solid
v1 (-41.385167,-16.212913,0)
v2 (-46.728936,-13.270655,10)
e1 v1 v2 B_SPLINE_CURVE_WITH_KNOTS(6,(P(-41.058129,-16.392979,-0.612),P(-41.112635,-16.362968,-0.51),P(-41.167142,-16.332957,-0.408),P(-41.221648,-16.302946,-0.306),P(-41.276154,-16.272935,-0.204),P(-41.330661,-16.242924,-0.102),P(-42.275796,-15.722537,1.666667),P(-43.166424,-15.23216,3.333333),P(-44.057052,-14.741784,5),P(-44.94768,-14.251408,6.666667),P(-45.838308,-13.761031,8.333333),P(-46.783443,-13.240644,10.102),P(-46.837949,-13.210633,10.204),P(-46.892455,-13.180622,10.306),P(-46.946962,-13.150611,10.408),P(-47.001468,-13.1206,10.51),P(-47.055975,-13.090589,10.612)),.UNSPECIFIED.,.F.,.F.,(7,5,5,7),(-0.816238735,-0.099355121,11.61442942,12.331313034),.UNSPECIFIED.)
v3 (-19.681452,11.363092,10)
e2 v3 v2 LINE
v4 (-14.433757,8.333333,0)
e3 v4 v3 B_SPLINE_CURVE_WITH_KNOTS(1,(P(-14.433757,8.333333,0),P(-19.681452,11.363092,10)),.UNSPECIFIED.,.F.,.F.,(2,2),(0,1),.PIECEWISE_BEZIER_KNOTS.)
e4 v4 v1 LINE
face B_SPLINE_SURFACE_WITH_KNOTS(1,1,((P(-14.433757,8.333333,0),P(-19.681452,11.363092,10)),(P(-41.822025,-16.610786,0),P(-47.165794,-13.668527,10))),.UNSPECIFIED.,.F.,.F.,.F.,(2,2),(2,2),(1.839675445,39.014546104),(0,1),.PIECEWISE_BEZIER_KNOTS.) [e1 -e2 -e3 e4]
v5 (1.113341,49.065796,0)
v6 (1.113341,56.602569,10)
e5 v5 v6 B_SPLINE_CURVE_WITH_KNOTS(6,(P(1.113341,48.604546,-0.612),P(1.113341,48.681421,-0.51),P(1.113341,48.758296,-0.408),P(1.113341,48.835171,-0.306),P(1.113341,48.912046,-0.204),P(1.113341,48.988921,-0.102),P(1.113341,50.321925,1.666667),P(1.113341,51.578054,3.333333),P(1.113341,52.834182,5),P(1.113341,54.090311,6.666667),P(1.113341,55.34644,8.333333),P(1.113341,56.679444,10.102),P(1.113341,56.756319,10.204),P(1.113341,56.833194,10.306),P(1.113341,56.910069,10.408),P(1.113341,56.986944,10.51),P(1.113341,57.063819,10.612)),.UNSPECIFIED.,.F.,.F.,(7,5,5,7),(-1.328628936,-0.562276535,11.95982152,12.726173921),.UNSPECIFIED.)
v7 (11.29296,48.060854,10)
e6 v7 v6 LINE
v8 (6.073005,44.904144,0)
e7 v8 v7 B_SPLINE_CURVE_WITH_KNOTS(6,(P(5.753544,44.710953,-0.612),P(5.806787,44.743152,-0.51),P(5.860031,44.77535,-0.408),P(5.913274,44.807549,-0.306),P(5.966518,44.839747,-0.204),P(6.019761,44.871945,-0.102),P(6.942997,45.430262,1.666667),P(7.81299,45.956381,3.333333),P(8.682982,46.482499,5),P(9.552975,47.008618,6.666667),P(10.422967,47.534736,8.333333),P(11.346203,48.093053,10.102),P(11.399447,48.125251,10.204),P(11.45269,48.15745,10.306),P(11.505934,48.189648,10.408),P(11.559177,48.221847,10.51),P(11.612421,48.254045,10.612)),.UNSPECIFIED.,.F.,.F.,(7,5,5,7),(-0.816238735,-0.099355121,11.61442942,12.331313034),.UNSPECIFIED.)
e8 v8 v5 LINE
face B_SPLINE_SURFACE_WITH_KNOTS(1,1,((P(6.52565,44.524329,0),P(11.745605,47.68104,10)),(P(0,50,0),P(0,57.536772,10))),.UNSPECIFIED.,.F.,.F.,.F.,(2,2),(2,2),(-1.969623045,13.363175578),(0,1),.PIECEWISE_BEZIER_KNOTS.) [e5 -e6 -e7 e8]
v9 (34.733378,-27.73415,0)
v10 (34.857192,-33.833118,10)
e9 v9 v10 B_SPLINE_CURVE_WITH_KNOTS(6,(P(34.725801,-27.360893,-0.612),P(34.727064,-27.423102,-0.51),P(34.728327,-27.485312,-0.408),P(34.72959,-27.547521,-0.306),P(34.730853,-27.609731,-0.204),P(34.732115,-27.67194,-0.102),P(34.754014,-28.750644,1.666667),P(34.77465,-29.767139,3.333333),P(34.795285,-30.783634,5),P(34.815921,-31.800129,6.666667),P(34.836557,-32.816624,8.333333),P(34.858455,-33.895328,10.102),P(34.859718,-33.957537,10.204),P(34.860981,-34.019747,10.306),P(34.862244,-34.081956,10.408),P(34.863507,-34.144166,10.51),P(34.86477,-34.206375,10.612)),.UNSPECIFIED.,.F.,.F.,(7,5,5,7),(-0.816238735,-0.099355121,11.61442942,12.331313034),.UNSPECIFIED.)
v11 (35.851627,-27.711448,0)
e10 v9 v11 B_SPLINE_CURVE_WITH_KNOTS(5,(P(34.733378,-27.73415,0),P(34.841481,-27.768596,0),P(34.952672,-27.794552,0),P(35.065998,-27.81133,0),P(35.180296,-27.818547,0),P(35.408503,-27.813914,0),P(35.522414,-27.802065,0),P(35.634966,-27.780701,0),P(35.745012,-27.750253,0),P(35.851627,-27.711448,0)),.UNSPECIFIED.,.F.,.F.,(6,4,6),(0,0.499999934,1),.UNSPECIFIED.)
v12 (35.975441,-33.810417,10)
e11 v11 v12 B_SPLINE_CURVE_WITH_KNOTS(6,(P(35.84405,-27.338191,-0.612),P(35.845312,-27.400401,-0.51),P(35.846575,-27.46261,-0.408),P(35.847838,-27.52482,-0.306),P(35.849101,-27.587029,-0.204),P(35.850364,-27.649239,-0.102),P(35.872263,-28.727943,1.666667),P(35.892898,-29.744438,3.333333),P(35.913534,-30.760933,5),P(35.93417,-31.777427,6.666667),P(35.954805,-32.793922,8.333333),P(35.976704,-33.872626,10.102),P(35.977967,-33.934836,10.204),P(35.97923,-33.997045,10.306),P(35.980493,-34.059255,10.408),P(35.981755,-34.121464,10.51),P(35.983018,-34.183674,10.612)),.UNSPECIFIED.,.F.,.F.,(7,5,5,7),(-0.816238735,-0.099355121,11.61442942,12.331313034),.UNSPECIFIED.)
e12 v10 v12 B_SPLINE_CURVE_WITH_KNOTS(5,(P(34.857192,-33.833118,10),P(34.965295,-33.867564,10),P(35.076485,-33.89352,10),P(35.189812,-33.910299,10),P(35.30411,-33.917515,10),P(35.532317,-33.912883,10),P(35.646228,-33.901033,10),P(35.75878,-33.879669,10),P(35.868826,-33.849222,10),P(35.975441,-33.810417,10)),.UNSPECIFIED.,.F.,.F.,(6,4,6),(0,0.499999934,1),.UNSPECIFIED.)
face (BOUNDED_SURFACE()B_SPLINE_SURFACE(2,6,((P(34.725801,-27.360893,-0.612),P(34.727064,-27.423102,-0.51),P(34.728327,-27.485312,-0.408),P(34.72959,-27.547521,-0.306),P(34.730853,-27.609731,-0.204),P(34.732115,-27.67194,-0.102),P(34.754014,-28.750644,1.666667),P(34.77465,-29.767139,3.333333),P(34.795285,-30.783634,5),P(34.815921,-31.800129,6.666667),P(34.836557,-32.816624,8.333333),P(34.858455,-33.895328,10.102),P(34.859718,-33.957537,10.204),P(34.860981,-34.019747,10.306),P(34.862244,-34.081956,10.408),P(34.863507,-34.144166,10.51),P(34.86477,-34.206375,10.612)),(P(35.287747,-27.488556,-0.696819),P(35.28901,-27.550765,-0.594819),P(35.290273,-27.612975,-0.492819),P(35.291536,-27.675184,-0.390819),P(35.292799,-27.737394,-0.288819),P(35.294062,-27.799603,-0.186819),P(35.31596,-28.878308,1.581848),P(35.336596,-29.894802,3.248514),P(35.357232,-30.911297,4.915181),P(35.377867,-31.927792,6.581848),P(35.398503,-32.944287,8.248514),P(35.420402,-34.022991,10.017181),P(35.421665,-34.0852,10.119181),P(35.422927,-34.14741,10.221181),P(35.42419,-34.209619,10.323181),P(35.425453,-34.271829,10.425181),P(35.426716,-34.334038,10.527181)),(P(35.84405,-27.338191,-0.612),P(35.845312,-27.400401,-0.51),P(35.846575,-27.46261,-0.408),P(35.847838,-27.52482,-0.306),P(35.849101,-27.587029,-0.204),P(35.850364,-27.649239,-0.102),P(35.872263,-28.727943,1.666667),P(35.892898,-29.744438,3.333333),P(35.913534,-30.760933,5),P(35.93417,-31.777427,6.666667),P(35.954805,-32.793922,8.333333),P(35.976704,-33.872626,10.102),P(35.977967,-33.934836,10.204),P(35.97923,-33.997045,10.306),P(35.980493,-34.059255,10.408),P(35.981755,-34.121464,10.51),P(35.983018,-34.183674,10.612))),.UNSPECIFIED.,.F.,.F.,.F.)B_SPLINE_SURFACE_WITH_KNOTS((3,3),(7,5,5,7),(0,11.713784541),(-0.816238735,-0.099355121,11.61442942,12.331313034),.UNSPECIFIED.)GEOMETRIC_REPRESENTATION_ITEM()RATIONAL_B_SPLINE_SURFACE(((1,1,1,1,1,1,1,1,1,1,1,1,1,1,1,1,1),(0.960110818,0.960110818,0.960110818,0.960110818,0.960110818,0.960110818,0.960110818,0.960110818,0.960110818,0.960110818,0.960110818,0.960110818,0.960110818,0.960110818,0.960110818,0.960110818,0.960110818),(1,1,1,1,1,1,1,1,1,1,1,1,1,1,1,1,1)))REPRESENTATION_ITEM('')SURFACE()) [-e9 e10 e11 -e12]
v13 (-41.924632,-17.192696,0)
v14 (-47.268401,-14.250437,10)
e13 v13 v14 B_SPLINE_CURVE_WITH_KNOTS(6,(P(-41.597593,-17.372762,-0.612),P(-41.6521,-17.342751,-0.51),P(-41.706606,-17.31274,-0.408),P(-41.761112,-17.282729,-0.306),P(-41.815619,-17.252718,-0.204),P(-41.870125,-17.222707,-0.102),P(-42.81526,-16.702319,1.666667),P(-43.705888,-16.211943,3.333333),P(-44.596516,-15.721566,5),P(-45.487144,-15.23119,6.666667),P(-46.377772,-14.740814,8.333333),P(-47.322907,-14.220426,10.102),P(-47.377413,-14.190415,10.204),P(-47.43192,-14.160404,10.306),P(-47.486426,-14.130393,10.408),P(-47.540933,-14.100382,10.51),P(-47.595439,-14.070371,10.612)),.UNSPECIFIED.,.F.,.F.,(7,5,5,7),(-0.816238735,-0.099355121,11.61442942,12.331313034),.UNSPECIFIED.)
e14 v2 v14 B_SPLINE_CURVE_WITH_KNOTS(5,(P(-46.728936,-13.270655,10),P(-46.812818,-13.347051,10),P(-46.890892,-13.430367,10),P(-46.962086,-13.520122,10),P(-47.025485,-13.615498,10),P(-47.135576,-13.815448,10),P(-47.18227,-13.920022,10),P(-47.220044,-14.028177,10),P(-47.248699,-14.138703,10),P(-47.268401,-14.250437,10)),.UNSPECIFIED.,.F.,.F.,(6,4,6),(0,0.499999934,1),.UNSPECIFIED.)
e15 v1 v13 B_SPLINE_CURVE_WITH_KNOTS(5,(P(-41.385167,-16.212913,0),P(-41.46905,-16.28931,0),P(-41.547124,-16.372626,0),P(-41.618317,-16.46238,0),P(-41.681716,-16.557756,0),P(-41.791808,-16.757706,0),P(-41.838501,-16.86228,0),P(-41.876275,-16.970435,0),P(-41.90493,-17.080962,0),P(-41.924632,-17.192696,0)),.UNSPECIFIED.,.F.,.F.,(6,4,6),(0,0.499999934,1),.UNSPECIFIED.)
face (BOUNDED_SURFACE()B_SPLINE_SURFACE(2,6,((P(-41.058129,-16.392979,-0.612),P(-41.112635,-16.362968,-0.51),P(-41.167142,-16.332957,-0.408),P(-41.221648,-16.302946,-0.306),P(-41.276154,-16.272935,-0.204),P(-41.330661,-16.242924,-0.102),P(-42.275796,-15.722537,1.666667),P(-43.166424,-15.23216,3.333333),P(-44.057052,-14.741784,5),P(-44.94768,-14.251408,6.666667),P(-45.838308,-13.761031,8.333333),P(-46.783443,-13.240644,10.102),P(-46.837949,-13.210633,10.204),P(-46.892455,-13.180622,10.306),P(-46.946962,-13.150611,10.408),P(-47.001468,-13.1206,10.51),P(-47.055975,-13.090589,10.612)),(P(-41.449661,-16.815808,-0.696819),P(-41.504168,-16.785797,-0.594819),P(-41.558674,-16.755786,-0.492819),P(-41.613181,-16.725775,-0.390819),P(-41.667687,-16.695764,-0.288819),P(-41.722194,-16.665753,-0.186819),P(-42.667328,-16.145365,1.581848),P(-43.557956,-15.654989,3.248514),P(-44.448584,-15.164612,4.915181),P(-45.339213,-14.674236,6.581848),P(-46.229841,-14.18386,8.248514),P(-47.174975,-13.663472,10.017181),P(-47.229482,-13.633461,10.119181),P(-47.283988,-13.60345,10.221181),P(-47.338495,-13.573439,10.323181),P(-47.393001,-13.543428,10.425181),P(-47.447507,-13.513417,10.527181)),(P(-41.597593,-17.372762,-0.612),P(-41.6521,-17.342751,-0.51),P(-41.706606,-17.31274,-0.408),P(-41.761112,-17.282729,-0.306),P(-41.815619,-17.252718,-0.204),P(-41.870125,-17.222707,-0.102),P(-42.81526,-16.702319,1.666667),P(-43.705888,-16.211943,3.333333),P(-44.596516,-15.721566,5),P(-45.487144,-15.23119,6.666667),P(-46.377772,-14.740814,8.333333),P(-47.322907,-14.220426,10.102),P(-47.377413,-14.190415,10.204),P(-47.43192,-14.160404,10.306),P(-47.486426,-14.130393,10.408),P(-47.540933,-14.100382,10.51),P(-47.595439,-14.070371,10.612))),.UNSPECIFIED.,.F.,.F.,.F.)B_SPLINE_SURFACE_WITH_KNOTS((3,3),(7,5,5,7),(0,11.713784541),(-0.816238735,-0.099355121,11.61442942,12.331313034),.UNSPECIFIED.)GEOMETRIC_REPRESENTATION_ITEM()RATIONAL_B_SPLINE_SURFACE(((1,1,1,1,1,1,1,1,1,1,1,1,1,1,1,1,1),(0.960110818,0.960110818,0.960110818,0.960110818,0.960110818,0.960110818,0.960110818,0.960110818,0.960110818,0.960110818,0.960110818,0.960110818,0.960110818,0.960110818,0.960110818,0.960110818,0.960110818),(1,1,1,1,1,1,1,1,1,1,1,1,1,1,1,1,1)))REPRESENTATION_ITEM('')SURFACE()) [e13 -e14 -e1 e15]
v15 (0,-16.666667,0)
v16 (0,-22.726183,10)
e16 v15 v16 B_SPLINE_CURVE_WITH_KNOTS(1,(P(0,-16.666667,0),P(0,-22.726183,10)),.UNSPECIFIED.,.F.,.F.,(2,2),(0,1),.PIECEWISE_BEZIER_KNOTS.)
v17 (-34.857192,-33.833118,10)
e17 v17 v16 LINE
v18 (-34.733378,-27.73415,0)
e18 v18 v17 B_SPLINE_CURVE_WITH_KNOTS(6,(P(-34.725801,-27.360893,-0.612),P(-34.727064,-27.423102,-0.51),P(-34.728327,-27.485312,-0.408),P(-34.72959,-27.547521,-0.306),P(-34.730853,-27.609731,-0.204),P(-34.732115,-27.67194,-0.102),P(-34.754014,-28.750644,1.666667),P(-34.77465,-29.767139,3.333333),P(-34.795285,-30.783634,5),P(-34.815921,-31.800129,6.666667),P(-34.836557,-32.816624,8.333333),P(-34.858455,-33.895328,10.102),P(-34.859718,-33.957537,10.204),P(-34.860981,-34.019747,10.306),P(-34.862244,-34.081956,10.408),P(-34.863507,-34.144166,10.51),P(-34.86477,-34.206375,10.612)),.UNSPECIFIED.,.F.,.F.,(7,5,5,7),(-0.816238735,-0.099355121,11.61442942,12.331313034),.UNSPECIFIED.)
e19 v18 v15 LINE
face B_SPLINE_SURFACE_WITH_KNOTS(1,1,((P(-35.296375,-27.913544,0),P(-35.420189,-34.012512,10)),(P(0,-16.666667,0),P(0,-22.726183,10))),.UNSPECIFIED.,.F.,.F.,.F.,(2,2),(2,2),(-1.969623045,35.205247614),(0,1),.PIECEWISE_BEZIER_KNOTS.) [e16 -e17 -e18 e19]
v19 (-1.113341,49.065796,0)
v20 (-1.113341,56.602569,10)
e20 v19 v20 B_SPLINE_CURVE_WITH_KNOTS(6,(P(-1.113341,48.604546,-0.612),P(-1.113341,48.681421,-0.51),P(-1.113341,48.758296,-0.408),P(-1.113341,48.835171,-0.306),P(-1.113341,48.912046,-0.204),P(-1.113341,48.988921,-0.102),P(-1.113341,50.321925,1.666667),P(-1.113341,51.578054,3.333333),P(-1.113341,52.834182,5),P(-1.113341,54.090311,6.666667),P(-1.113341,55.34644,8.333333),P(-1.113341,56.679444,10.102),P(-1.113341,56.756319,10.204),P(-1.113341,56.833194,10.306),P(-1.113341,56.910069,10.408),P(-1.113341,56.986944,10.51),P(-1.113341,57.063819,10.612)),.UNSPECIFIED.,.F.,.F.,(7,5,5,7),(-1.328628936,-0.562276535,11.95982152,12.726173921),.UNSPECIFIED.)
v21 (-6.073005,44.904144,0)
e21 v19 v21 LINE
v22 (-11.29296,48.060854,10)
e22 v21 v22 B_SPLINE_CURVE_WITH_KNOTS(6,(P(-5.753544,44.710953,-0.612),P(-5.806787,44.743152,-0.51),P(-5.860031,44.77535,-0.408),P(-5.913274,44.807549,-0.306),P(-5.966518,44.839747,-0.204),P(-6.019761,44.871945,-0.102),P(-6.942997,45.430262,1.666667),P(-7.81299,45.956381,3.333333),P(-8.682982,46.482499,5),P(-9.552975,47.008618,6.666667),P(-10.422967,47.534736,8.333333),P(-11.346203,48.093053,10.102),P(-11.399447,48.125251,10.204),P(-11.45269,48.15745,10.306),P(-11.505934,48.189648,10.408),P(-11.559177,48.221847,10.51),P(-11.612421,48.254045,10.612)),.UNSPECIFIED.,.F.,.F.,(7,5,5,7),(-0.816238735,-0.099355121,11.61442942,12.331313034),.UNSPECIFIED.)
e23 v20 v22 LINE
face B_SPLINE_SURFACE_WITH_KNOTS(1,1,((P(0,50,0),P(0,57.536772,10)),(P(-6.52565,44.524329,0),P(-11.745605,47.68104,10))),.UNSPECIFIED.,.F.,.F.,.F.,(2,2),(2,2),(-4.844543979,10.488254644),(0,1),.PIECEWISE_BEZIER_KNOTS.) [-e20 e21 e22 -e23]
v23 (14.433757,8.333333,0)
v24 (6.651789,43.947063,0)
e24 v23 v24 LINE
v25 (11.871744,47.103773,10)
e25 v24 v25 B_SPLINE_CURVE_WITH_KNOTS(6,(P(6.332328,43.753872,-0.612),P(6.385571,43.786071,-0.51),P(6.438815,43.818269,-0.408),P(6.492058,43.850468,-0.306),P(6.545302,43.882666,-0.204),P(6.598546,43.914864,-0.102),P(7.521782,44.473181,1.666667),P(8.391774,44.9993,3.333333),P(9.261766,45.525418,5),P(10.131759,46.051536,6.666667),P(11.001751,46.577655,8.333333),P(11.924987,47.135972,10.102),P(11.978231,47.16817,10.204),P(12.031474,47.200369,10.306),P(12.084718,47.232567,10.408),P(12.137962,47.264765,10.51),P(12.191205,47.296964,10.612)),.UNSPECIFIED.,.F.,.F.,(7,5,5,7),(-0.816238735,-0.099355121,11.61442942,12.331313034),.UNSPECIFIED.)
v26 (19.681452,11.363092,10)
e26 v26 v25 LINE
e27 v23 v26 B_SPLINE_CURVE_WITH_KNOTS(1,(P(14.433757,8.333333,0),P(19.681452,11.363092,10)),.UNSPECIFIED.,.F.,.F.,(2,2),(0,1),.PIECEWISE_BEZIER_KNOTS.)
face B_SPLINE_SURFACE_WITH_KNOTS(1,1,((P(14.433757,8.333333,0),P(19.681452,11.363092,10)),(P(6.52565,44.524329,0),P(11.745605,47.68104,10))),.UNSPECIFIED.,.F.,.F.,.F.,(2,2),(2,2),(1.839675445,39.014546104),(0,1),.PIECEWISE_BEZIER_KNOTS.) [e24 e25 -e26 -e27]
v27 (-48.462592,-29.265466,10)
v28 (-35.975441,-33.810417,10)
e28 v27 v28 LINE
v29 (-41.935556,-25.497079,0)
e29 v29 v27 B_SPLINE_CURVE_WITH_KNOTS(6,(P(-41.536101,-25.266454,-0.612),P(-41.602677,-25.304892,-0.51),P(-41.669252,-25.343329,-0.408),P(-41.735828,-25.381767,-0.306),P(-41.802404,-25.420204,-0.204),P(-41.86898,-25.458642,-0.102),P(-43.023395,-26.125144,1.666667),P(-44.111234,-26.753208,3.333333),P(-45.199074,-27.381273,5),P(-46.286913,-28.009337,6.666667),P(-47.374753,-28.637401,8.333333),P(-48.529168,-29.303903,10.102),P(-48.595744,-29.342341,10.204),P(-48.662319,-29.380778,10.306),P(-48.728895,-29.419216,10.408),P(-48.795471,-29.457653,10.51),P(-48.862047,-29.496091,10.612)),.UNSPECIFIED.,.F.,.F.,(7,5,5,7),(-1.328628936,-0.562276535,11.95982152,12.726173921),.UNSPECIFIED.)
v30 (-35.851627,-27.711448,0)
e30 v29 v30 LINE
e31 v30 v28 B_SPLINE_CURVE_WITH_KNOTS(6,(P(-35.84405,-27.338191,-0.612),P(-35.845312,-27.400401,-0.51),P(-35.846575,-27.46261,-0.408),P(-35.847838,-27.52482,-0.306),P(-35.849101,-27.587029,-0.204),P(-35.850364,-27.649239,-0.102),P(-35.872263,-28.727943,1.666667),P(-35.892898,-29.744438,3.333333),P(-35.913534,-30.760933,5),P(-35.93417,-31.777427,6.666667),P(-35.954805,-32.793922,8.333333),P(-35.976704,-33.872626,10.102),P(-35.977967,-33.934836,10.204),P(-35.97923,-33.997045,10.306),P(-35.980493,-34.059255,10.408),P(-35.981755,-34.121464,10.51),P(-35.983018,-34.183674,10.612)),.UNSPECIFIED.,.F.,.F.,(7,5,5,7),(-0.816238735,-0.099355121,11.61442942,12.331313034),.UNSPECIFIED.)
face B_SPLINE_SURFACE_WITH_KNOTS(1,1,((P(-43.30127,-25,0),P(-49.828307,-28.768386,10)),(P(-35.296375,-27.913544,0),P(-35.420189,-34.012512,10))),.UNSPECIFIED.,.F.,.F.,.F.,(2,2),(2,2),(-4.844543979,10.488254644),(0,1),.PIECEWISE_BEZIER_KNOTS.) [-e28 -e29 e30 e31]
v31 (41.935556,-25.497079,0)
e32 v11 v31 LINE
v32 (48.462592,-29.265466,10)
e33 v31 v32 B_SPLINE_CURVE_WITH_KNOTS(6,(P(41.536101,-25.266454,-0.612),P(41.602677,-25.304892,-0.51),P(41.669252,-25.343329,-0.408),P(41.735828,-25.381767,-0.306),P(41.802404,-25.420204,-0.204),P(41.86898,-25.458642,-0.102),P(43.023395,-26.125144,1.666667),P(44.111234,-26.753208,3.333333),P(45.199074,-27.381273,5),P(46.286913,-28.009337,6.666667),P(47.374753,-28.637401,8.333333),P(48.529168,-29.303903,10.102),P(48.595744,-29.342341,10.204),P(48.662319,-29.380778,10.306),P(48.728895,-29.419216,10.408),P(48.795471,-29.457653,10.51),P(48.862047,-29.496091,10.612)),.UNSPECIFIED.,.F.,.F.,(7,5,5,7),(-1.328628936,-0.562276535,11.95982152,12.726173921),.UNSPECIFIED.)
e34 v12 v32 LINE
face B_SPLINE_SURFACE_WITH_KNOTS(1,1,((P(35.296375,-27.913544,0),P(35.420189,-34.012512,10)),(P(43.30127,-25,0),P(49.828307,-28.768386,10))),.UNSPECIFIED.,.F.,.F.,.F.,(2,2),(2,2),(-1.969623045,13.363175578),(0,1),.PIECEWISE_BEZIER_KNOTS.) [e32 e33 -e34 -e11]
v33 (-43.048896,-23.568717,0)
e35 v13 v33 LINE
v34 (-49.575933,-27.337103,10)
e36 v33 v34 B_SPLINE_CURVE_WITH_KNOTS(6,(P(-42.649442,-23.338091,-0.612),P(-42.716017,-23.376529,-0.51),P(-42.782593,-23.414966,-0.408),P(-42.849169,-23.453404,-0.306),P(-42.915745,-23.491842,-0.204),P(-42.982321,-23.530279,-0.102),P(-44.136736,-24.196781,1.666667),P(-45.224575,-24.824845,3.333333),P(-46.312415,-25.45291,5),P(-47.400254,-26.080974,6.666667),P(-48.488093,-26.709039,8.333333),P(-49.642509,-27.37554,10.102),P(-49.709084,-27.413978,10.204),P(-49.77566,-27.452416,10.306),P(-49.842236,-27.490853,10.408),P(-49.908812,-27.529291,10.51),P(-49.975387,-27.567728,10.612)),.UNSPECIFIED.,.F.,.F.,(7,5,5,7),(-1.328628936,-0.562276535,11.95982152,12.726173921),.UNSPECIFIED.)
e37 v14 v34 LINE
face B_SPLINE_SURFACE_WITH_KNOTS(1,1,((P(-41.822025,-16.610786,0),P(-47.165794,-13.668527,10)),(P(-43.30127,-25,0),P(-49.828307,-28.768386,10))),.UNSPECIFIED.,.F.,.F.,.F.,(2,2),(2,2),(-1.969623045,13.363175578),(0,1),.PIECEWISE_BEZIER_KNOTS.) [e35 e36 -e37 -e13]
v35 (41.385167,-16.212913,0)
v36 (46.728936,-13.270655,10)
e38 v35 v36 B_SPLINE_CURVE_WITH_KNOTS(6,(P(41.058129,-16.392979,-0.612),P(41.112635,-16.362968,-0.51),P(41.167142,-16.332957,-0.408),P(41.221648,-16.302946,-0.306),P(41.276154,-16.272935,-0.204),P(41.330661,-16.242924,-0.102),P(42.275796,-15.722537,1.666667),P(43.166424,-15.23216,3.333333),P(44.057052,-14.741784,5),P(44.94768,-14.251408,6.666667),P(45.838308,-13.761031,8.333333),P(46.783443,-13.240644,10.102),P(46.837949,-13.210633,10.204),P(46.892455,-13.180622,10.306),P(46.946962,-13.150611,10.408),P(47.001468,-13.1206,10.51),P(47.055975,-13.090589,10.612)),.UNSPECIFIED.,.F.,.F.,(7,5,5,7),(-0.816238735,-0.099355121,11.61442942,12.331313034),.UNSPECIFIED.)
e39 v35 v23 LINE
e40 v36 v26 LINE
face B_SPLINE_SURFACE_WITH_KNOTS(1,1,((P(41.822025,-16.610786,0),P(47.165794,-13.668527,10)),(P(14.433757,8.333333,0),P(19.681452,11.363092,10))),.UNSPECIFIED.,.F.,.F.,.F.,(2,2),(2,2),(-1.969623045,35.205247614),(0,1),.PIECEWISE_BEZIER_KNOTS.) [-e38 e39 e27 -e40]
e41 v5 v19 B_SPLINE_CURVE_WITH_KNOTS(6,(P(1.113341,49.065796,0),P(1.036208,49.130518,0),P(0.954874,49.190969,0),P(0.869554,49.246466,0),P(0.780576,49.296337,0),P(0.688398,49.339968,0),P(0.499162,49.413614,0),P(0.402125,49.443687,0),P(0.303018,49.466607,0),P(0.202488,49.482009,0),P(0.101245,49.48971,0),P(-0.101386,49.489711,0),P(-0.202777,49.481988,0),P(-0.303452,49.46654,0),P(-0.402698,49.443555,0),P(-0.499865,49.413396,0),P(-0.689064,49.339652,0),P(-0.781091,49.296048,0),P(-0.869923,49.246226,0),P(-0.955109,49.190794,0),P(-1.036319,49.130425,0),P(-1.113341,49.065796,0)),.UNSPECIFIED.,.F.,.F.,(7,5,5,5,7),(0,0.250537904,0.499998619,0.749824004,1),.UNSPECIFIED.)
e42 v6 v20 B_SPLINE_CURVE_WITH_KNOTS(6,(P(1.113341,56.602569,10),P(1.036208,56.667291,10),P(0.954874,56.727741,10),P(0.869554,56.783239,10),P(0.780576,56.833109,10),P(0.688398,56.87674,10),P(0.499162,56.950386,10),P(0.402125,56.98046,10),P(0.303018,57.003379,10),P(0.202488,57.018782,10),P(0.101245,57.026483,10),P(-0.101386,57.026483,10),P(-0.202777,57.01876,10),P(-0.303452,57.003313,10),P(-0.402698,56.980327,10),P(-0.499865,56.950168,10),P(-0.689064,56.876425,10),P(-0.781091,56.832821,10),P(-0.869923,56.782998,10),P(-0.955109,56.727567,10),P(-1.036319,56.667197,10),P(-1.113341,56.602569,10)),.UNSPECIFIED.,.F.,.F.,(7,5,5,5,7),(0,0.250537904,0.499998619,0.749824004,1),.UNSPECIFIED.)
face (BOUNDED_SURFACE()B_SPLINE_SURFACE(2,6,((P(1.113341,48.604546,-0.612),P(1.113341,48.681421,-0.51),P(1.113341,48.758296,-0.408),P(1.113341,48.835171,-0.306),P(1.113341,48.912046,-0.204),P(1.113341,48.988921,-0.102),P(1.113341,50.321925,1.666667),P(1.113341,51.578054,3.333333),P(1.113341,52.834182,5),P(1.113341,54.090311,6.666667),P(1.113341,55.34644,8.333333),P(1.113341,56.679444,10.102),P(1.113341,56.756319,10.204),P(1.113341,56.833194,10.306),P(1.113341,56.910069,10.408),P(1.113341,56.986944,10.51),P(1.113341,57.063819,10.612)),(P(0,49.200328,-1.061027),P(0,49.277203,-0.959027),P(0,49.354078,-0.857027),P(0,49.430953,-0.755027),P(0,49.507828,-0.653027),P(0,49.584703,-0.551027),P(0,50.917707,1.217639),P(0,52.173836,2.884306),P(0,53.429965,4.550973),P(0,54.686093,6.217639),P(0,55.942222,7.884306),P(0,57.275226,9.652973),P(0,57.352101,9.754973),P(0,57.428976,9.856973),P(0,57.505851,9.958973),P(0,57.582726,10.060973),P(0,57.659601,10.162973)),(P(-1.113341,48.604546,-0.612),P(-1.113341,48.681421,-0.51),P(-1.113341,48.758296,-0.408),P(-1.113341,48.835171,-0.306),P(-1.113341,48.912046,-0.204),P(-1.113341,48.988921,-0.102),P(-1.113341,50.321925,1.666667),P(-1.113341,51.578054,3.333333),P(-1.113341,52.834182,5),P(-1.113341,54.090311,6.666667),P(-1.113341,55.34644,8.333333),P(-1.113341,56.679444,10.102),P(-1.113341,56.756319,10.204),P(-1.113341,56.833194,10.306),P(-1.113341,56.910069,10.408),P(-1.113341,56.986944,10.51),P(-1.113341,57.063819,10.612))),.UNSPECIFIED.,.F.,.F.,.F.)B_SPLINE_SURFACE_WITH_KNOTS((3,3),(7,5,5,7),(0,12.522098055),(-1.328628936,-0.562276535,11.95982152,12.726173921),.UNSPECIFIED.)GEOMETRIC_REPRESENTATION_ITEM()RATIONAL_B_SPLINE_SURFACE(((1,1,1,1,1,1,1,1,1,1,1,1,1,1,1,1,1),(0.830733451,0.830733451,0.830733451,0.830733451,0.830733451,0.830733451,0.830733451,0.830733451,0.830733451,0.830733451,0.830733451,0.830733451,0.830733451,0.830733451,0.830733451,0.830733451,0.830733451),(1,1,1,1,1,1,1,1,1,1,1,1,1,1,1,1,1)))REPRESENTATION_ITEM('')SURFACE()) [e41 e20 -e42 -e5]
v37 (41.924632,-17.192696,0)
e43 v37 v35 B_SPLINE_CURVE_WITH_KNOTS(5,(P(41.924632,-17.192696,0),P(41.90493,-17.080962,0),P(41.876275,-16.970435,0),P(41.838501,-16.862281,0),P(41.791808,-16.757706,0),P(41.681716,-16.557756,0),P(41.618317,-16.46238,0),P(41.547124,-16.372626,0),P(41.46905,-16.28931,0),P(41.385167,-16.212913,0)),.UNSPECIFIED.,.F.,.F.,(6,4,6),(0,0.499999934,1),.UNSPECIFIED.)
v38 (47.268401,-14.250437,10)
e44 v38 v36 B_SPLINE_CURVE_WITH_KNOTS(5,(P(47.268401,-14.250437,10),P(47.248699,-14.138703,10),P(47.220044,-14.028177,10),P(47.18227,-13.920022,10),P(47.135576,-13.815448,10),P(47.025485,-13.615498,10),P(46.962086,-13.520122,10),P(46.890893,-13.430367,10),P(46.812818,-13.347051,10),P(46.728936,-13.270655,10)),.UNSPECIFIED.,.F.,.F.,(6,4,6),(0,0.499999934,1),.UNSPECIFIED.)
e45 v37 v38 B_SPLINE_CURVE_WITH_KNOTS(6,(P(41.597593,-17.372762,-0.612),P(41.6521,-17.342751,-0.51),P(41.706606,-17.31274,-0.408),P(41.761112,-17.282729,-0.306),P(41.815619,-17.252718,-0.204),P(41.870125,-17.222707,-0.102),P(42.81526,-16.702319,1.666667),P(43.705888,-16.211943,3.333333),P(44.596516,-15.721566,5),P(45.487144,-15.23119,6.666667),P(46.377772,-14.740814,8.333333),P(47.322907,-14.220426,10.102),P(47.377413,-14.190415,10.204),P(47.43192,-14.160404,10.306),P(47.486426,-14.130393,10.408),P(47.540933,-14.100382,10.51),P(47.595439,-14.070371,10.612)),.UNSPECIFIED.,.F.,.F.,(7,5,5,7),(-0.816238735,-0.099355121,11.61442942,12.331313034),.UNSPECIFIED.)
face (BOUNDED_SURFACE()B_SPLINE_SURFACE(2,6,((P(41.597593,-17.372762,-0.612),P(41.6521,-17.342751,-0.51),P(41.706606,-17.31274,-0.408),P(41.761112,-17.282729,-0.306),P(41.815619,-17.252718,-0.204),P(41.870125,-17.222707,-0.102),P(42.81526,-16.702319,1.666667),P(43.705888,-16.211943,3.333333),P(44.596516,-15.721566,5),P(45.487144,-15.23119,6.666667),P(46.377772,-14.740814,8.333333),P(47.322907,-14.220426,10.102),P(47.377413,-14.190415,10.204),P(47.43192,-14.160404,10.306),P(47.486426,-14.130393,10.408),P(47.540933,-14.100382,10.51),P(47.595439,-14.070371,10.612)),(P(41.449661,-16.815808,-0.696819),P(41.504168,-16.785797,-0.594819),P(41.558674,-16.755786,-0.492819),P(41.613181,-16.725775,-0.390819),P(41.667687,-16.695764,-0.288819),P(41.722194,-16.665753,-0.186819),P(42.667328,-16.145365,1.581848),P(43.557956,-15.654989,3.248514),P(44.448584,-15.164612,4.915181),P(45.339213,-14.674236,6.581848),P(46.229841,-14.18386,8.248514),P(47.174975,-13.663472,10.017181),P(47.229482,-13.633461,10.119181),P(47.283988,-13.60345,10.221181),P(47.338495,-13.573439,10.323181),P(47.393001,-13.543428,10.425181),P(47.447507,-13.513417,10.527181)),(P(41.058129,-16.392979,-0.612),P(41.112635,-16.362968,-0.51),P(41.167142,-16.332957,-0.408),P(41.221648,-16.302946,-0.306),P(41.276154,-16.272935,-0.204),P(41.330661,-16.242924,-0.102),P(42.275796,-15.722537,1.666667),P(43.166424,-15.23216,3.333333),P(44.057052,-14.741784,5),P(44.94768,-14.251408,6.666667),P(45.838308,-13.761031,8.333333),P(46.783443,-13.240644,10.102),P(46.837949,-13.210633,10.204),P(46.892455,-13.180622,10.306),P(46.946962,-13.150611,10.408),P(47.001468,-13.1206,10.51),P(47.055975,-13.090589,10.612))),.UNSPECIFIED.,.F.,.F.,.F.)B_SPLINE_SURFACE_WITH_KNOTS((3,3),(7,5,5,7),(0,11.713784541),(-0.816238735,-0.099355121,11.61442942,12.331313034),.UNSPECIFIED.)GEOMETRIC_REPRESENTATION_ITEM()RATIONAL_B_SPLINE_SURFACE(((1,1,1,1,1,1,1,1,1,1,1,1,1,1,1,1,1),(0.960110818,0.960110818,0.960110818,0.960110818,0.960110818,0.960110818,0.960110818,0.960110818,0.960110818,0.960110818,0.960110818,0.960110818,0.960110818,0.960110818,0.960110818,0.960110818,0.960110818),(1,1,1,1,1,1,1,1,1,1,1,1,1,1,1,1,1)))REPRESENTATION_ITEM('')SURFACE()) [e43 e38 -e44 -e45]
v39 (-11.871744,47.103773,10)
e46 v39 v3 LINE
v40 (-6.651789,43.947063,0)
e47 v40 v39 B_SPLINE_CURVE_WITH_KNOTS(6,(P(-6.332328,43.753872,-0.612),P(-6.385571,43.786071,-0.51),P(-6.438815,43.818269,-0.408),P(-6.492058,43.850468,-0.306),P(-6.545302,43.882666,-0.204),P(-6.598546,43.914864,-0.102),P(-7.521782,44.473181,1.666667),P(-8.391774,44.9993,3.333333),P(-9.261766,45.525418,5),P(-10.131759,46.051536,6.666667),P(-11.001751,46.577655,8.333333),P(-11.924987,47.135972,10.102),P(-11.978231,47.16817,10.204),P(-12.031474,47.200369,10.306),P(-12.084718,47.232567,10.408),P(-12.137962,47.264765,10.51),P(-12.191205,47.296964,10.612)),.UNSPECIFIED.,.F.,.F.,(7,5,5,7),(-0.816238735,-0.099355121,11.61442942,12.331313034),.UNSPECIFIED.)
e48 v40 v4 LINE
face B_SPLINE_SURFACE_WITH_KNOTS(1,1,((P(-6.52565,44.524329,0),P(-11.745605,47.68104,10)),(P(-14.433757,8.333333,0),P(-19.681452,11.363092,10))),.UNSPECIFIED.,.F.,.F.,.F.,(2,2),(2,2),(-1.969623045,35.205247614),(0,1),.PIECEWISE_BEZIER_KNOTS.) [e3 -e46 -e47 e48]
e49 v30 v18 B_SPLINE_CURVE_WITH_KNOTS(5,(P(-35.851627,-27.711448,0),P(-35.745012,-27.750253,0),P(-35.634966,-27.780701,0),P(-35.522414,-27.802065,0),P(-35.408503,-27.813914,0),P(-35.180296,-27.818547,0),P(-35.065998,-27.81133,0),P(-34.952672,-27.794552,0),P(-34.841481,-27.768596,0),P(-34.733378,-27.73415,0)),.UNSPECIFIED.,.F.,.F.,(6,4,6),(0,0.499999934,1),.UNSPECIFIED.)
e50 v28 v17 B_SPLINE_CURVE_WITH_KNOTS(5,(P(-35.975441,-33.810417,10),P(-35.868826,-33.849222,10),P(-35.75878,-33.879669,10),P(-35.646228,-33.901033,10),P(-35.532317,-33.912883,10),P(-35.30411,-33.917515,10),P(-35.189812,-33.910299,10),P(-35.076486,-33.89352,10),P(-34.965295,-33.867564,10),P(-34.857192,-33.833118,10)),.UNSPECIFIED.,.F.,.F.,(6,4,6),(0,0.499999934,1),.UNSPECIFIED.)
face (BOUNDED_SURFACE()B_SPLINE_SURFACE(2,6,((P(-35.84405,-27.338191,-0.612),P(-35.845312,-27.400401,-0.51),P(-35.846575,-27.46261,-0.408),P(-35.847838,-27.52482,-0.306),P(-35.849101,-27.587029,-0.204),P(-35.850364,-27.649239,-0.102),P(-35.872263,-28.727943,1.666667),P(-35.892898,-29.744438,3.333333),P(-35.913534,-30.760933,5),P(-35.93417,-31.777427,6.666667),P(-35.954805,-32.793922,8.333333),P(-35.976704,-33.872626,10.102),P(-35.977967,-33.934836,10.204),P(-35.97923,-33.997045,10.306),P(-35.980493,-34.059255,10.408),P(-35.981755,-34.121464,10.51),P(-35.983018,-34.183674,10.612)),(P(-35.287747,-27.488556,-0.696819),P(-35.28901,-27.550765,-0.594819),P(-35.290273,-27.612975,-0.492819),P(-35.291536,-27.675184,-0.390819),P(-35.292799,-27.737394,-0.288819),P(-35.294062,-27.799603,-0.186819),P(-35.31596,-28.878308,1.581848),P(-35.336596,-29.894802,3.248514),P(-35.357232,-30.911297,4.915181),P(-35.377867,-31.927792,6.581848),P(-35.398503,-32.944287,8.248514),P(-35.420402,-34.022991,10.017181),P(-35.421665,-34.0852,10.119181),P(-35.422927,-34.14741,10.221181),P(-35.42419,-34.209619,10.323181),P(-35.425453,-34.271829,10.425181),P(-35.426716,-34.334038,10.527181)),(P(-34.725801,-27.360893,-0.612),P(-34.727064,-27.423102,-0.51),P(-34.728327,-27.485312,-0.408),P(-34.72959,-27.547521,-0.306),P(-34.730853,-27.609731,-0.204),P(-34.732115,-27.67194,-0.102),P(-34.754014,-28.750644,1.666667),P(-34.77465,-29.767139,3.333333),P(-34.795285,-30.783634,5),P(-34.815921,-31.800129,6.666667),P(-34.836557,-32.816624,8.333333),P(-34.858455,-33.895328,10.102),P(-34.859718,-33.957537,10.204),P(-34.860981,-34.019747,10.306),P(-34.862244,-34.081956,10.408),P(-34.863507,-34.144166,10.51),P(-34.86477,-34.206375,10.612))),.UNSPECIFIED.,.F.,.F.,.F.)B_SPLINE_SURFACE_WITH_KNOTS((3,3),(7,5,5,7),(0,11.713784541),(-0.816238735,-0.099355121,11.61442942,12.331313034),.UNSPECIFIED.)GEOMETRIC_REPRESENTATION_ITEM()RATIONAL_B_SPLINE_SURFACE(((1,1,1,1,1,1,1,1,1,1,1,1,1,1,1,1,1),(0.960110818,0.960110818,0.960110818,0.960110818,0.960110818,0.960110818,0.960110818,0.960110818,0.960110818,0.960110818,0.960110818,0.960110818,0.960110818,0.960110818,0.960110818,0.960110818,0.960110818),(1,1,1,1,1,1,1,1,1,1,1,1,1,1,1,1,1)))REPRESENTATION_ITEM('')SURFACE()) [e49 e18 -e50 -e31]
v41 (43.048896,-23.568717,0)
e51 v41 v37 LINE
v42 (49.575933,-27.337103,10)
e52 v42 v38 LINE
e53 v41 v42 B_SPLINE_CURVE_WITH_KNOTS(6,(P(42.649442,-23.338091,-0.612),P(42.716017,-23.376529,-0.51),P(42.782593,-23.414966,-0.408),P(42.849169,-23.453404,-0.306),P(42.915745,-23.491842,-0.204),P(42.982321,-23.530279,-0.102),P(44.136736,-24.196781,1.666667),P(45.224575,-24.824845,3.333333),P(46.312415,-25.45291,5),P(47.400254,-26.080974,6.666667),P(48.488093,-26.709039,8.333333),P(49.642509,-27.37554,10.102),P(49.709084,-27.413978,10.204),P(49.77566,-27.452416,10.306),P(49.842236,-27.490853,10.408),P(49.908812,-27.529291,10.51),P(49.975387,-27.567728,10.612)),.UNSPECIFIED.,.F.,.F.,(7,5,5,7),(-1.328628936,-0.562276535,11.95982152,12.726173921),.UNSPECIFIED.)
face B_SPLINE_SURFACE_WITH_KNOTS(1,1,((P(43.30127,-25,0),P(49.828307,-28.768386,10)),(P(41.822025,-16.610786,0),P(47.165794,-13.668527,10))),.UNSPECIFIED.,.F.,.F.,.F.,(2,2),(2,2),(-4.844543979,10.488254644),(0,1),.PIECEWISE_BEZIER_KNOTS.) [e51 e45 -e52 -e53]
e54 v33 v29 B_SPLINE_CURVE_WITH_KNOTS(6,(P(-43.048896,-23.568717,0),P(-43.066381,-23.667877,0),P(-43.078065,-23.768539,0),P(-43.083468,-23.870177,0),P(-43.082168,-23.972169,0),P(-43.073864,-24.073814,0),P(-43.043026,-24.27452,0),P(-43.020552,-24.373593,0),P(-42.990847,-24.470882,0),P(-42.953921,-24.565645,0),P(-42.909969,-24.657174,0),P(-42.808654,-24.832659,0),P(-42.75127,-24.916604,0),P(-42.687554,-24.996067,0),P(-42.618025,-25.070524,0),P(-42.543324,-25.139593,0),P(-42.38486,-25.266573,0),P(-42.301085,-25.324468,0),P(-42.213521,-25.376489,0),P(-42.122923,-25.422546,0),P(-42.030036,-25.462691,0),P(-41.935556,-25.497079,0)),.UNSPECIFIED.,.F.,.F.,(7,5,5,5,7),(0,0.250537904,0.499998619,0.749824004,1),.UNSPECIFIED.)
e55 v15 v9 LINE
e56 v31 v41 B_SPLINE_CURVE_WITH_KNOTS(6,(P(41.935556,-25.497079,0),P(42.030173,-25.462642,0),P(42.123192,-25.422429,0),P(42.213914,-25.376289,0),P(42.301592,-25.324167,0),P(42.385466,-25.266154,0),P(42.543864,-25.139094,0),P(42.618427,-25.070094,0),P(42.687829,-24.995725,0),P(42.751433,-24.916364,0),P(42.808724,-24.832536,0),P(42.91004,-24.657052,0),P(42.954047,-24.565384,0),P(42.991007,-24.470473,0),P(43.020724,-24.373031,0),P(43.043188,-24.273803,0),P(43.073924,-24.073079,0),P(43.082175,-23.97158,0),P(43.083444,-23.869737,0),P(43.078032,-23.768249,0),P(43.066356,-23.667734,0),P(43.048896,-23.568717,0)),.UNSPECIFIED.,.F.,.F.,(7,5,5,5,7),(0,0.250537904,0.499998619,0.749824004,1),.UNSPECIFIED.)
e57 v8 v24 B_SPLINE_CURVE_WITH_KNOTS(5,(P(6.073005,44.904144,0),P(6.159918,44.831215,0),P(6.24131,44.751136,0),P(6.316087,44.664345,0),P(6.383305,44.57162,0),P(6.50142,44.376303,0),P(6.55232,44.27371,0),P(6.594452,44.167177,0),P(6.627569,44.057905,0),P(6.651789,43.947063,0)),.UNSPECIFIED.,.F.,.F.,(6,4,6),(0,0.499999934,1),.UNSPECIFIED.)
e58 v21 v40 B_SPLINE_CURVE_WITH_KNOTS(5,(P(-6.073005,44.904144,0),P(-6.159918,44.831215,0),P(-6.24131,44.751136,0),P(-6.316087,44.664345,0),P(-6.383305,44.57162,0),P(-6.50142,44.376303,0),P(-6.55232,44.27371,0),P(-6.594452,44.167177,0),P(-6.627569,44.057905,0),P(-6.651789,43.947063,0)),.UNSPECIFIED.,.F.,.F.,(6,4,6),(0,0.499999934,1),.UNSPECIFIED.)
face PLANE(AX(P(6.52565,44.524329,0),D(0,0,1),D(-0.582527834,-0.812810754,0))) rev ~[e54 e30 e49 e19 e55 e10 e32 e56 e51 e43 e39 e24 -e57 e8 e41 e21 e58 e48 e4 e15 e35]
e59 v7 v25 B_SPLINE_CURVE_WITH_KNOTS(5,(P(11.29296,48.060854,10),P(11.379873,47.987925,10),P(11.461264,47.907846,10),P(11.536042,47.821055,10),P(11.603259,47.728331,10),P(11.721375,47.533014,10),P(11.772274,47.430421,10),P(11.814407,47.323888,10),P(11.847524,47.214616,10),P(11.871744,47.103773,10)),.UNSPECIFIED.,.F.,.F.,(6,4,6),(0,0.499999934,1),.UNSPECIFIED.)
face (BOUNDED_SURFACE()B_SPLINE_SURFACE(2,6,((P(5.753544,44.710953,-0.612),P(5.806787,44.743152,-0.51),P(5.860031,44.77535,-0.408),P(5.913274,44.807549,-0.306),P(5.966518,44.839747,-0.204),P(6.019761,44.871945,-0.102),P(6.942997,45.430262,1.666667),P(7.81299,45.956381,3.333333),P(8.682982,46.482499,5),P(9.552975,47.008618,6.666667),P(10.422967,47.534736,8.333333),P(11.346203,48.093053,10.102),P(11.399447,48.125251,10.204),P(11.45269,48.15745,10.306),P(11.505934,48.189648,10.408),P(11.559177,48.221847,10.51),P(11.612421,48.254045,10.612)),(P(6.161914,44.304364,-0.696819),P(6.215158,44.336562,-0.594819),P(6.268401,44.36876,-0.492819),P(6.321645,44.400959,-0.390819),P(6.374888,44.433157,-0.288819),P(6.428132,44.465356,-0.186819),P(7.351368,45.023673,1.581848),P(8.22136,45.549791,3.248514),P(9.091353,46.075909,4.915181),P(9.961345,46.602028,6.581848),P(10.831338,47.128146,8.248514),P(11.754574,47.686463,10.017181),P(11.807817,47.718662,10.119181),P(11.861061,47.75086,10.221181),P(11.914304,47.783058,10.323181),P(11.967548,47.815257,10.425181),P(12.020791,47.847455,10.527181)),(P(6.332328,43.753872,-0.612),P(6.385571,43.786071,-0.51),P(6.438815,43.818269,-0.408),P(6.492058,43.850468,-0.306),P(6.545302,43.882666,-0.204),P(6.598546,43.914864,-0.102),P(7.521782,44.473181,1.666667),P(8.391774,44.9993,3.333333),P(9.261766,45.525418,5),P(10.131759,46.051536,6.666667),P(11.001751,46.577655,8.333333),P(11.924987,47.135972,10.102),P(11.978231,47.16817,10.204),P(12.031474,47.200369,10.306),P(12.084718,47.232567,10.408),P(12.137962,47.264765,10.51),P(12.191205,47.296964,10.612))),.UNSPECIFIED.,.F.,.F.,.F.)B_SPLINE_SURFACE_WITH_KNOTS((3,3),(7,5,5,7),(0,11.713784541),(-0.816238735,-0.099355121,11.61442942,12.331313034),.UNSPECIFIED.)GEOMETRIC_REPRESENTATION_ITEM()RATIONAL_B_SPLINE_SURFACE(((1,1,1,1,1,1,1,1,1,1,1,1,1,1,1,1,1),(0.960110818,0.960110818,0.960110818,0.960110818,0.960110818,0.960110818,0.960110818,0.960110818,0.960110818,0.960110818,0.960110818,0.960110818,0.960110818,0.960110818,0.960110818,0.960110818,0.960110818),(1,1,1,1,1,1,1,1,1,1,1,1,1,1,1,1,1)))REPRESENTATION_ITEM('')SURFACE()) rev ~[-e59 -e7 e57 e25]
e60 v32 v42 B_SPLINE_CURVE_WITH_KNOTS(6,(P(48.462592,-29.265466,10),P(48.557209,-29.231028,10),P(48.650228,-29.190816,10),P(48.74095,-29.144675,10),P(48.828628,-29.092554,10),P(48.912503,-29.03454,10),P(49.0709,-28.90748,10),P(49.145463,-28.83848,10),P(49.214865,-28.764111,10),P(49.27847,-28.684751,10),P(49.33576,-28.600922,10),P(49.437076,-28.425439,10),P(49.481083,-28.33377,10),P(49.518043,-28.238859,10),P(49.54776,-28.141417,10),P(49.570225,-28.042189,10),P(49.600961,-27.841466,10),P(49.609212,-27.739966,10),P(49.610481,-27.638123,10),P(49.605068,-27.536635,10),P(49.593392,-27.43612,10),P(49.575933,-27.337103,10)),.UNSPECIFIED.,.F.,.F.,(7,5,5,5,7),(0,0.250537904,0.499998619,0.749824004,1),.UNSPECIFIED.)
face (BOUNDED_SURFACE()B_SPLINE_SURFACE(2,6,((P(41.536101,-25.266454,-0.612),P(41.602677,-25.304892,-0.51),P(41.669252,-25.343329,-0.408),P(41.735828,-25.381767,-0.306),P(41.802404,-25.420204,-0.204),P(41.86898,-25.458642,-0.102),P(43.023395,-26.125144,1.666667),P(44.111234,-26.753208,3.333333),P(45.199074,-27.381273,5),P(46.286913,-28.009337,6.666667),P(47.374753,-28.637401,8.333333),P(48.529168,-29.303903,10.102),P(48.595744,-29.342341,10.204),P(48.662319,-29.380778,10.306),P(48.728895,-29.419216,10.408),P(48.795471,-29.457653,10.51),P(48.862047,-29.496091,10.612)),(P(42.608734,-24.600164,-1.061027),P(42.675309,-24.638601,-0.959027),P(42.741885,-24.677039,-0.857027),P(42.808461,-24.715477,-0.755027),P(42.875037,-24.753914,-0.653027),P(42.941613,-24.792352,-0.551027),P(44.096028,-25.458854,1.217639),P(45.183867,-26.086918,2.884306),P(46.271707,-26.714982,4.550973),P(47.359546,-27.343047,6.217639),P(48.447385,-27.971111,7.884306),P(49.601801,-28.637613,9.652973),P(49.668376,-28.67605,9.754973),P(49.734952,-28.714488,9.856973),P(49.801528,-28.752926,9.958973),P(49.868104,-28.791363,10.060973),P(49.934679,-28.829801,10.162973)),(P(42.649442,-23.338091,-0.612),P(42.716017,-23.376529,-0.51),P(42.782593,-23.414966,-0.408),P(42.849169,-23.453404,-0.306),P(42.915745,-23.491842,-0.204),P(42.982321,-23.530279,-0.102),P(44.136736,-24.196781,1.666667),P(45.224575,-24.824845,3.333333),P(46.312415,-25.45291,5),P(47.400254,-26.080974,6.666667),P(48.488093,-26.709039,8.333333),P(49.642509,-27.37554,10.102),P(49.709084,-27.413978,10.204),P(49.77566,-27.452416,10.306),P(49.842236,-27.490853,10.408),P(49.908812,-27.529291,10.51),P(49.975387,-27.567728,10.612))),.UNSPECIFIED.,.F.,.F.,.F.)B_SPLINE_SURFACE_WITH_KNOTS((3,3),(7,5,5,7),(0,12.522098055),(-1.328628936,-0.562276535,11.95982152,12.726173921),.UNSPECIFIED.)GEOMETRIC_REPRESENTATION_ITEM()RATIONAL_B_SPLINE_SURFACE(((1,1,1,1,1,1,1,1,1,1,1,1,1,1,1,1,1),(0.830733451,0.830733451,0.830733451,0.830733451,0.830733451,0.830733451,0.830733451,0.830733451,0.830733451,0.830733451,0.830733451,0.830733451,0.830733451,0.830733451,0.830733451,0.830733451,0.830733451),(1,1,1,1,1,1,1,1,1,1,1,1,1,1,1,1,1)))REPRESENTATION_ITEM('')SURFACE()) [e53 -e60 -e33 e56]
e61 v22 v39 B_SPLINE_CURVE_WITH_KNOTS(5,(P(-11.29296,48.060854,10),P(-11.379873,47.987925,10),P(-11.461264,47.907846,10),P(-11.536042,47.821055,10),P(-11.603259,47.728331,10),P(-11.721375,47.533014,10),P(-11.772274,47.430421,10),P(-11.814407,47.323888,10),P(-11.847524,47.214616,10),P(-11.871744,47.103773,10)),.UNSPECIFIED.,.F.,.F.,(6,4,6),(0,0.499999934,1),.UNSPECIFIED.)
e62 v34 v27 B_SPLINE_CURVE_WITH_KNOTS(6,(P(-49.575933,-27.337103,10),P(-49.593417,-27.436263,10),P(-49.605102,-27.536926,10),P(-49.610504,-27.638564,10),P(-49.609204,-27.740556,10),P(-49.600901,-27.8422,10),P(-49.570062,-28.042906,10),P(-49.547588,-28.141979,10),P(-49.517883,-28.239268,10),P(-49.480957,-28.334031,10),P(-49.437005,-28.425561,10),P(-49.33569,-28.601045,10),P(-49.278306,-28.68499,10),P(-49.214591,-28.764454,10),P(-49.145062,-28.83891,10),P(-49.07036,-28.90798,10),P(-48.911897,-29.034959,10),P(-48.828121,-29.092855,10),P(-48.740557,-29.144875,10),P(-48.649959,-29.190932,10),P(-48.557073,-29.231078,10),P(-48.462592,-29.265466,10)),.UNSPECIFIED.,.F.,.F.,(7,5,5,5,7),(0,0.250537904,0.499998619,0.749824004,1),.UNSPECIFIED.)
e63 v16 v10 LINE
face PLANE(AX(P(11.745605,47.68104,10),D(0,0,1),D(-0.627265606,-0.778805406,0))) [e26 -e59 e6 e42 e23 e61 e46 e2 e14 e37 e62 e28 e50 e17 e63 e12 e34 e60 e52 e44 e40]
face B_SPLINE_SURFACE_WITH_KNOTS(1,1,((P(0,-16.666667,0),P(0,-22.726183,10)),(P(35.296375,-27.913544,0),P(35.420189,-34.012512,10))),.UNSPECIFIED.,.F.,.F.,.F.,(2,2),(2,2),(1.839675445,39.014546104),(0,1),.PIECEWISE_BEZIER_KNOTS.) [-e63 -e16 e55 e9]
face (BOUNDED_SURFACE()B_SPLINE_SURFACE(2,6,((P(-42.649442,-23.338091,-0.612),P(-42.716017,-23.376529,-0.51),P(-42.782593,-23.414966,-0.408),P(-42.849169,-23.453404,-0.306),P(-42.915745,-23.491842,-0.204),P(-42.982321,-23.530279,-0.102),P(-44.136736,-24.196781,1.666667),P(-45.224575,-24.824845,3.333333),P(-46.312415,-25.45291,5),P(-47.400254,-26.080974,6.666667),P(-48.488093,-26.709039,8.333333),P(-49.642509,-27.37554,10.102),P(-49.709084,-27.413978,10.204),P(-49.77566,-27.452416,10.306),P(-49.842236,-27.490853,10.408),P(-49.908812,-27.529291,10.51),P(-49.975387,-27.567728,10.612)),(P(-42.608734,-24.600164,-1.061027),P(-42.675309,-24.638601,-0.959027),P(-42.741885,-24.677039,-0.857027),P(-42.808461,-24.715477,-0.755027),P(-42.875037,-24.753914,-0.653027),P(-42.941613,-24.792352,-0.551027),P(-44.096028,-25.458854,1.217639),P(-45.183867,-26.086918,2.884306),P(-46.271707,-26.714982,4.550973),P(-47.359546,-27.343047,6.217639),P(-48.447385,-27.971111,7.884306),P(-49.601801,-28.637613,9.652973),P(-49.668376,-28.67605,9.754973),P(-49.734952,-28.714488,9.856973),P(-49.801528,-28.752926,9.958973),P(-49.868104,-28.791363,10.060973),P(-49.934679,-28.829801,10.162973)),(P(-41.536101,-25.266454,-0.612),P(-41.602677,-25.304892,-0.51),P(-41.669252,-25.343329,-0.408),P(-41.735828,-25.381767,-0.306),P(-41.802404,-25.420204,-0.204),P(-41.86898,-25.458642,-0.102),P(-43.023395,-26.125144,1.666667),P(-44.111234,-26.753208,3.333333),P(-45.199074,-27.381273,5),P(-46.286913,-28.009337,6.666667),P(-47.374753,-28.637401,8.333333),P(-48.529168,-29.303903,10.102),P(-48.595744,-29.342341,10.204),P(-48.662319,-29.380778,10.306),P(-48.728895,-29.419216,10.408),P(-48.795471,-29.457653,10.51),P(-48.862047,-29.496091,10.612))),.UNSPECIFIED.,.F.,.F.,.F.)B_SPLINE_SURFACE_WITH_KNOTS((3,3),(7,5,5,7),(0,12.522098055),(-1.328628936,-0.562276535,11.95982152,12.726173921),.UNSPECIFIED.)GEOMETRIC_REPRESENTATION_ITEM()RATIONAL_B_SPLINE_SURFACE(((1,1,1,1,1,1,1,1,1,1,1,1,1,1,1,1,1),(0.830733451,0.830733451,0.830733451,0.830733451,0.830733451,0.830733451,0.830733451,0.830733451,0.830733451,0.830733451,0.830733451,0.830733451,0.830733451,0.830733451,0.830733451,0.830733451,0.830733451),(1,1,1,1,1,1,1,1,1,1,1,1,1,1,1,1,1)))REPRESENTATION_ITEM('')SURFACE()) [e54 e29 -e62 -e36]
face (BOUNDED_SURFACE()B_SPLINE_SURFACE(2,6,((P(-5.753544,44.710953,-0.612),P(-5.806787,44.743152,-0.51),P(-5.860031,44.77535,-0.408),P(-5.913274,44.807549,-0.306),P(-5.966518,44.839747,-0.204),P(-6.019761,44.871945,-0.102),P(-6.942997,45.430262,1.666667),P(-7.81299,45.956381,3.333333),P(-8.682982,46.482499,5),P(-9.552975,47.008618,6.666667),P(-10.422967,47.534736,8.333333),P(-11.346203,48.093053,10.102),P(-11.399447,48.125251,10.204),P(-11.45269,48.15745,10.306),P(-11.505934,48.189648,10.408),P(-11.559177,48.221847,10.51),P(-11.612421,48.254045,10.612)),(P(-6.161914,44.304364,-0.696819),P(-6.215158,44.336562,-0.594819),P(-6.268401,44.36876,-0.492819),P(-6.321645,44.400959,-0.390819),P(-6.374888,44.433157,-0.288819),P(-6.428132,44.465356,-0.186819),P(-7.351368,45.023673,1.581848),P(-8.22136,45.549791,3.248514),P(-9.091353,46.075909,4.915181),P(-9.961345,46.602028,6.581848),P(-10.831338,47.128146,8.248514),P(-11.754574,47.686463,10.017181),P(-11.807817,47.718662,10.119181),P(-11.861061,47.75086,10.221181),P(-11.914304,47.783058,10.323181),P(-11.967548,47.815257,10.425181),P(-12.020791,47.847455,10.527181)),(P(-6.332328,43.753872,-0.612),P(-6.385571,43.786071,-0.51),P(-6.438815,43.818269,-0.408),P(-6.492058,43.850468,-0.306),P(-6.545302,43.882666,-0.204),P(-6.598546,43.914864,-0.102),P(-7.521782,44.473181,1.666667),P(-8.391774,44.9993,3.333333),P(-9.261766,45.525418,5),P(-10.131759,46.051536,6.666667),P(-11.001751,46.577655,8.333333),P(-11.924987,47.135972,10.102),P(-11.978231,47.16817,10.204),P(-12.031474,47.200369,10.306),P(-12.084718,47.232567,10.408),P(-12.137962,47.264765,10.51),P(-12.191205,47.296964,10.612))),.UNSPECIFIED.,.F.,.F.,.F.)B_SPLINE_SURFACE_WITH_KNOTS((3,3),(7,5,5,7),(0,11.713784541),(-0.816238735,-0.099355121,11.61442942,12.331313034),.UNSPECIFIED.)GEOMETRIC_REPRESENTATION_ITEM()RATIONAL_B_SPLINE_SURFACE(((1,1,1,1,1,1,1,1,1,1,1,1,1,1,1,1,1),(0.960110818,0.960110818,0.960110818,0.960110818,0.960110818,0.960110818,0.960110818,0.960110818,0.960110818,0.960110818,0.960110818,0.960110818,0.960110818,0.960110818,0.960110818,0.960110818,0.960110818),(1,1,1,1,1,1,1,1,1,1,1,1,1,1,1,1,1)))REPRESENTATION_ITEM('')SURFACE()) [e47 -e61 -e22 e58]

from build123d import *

# Parameters (mm, degrees)
F0_R     = 10
F1_DEPTH = 10
F1_TAPER = -30
F2_R     = 2


with BuildPart() as f1:
    # F0 (on Top) → F1 (new body)
    with BuildSketch(Plane.XY):
        Polygon((6.5256503992, 44.5243291569), (0, 50), (-6.5256503992, 44.5243291569), (-14.4337567297, 8.3333333333), (-41.8220253359, -16.6107855565), (-43.3012701892, -25), (-35.2963749367, -27.9135436003), (0, -16.6666666667), (35.2963749367, -27.9135436003), (43.3012701892, -25), (41.8220253359, -16.6107855565), (14.4337567297, 8.3333333333), align=None)
        Circle(F0_R, mode=Mode.SUBTRACT)
        Circle(F0_R)
    extrude(amount=F1_DEPTH, taper=F1_TAPER)

    # F2
    f2_edges = [f1.edges().sort_by_distance(p)[0] for p in [
        (0, 53.768386, 5),
        (9.135628, 46.102684, 5),
        (-9.135628, 46.102684, 5),
        (44.49391, -15.139656, 5),
        (46.564788, -26.884193, 5),
        (35.358282, -30.963028, 5),
        (-44.49391, -15.139656, 5),
        (-46.564788, -26.884193, 5),
        (-35.358282, -30.963028, 5),
    ]]
    fillet(f2_edges, radius=F2_R)


solid = f1.part
